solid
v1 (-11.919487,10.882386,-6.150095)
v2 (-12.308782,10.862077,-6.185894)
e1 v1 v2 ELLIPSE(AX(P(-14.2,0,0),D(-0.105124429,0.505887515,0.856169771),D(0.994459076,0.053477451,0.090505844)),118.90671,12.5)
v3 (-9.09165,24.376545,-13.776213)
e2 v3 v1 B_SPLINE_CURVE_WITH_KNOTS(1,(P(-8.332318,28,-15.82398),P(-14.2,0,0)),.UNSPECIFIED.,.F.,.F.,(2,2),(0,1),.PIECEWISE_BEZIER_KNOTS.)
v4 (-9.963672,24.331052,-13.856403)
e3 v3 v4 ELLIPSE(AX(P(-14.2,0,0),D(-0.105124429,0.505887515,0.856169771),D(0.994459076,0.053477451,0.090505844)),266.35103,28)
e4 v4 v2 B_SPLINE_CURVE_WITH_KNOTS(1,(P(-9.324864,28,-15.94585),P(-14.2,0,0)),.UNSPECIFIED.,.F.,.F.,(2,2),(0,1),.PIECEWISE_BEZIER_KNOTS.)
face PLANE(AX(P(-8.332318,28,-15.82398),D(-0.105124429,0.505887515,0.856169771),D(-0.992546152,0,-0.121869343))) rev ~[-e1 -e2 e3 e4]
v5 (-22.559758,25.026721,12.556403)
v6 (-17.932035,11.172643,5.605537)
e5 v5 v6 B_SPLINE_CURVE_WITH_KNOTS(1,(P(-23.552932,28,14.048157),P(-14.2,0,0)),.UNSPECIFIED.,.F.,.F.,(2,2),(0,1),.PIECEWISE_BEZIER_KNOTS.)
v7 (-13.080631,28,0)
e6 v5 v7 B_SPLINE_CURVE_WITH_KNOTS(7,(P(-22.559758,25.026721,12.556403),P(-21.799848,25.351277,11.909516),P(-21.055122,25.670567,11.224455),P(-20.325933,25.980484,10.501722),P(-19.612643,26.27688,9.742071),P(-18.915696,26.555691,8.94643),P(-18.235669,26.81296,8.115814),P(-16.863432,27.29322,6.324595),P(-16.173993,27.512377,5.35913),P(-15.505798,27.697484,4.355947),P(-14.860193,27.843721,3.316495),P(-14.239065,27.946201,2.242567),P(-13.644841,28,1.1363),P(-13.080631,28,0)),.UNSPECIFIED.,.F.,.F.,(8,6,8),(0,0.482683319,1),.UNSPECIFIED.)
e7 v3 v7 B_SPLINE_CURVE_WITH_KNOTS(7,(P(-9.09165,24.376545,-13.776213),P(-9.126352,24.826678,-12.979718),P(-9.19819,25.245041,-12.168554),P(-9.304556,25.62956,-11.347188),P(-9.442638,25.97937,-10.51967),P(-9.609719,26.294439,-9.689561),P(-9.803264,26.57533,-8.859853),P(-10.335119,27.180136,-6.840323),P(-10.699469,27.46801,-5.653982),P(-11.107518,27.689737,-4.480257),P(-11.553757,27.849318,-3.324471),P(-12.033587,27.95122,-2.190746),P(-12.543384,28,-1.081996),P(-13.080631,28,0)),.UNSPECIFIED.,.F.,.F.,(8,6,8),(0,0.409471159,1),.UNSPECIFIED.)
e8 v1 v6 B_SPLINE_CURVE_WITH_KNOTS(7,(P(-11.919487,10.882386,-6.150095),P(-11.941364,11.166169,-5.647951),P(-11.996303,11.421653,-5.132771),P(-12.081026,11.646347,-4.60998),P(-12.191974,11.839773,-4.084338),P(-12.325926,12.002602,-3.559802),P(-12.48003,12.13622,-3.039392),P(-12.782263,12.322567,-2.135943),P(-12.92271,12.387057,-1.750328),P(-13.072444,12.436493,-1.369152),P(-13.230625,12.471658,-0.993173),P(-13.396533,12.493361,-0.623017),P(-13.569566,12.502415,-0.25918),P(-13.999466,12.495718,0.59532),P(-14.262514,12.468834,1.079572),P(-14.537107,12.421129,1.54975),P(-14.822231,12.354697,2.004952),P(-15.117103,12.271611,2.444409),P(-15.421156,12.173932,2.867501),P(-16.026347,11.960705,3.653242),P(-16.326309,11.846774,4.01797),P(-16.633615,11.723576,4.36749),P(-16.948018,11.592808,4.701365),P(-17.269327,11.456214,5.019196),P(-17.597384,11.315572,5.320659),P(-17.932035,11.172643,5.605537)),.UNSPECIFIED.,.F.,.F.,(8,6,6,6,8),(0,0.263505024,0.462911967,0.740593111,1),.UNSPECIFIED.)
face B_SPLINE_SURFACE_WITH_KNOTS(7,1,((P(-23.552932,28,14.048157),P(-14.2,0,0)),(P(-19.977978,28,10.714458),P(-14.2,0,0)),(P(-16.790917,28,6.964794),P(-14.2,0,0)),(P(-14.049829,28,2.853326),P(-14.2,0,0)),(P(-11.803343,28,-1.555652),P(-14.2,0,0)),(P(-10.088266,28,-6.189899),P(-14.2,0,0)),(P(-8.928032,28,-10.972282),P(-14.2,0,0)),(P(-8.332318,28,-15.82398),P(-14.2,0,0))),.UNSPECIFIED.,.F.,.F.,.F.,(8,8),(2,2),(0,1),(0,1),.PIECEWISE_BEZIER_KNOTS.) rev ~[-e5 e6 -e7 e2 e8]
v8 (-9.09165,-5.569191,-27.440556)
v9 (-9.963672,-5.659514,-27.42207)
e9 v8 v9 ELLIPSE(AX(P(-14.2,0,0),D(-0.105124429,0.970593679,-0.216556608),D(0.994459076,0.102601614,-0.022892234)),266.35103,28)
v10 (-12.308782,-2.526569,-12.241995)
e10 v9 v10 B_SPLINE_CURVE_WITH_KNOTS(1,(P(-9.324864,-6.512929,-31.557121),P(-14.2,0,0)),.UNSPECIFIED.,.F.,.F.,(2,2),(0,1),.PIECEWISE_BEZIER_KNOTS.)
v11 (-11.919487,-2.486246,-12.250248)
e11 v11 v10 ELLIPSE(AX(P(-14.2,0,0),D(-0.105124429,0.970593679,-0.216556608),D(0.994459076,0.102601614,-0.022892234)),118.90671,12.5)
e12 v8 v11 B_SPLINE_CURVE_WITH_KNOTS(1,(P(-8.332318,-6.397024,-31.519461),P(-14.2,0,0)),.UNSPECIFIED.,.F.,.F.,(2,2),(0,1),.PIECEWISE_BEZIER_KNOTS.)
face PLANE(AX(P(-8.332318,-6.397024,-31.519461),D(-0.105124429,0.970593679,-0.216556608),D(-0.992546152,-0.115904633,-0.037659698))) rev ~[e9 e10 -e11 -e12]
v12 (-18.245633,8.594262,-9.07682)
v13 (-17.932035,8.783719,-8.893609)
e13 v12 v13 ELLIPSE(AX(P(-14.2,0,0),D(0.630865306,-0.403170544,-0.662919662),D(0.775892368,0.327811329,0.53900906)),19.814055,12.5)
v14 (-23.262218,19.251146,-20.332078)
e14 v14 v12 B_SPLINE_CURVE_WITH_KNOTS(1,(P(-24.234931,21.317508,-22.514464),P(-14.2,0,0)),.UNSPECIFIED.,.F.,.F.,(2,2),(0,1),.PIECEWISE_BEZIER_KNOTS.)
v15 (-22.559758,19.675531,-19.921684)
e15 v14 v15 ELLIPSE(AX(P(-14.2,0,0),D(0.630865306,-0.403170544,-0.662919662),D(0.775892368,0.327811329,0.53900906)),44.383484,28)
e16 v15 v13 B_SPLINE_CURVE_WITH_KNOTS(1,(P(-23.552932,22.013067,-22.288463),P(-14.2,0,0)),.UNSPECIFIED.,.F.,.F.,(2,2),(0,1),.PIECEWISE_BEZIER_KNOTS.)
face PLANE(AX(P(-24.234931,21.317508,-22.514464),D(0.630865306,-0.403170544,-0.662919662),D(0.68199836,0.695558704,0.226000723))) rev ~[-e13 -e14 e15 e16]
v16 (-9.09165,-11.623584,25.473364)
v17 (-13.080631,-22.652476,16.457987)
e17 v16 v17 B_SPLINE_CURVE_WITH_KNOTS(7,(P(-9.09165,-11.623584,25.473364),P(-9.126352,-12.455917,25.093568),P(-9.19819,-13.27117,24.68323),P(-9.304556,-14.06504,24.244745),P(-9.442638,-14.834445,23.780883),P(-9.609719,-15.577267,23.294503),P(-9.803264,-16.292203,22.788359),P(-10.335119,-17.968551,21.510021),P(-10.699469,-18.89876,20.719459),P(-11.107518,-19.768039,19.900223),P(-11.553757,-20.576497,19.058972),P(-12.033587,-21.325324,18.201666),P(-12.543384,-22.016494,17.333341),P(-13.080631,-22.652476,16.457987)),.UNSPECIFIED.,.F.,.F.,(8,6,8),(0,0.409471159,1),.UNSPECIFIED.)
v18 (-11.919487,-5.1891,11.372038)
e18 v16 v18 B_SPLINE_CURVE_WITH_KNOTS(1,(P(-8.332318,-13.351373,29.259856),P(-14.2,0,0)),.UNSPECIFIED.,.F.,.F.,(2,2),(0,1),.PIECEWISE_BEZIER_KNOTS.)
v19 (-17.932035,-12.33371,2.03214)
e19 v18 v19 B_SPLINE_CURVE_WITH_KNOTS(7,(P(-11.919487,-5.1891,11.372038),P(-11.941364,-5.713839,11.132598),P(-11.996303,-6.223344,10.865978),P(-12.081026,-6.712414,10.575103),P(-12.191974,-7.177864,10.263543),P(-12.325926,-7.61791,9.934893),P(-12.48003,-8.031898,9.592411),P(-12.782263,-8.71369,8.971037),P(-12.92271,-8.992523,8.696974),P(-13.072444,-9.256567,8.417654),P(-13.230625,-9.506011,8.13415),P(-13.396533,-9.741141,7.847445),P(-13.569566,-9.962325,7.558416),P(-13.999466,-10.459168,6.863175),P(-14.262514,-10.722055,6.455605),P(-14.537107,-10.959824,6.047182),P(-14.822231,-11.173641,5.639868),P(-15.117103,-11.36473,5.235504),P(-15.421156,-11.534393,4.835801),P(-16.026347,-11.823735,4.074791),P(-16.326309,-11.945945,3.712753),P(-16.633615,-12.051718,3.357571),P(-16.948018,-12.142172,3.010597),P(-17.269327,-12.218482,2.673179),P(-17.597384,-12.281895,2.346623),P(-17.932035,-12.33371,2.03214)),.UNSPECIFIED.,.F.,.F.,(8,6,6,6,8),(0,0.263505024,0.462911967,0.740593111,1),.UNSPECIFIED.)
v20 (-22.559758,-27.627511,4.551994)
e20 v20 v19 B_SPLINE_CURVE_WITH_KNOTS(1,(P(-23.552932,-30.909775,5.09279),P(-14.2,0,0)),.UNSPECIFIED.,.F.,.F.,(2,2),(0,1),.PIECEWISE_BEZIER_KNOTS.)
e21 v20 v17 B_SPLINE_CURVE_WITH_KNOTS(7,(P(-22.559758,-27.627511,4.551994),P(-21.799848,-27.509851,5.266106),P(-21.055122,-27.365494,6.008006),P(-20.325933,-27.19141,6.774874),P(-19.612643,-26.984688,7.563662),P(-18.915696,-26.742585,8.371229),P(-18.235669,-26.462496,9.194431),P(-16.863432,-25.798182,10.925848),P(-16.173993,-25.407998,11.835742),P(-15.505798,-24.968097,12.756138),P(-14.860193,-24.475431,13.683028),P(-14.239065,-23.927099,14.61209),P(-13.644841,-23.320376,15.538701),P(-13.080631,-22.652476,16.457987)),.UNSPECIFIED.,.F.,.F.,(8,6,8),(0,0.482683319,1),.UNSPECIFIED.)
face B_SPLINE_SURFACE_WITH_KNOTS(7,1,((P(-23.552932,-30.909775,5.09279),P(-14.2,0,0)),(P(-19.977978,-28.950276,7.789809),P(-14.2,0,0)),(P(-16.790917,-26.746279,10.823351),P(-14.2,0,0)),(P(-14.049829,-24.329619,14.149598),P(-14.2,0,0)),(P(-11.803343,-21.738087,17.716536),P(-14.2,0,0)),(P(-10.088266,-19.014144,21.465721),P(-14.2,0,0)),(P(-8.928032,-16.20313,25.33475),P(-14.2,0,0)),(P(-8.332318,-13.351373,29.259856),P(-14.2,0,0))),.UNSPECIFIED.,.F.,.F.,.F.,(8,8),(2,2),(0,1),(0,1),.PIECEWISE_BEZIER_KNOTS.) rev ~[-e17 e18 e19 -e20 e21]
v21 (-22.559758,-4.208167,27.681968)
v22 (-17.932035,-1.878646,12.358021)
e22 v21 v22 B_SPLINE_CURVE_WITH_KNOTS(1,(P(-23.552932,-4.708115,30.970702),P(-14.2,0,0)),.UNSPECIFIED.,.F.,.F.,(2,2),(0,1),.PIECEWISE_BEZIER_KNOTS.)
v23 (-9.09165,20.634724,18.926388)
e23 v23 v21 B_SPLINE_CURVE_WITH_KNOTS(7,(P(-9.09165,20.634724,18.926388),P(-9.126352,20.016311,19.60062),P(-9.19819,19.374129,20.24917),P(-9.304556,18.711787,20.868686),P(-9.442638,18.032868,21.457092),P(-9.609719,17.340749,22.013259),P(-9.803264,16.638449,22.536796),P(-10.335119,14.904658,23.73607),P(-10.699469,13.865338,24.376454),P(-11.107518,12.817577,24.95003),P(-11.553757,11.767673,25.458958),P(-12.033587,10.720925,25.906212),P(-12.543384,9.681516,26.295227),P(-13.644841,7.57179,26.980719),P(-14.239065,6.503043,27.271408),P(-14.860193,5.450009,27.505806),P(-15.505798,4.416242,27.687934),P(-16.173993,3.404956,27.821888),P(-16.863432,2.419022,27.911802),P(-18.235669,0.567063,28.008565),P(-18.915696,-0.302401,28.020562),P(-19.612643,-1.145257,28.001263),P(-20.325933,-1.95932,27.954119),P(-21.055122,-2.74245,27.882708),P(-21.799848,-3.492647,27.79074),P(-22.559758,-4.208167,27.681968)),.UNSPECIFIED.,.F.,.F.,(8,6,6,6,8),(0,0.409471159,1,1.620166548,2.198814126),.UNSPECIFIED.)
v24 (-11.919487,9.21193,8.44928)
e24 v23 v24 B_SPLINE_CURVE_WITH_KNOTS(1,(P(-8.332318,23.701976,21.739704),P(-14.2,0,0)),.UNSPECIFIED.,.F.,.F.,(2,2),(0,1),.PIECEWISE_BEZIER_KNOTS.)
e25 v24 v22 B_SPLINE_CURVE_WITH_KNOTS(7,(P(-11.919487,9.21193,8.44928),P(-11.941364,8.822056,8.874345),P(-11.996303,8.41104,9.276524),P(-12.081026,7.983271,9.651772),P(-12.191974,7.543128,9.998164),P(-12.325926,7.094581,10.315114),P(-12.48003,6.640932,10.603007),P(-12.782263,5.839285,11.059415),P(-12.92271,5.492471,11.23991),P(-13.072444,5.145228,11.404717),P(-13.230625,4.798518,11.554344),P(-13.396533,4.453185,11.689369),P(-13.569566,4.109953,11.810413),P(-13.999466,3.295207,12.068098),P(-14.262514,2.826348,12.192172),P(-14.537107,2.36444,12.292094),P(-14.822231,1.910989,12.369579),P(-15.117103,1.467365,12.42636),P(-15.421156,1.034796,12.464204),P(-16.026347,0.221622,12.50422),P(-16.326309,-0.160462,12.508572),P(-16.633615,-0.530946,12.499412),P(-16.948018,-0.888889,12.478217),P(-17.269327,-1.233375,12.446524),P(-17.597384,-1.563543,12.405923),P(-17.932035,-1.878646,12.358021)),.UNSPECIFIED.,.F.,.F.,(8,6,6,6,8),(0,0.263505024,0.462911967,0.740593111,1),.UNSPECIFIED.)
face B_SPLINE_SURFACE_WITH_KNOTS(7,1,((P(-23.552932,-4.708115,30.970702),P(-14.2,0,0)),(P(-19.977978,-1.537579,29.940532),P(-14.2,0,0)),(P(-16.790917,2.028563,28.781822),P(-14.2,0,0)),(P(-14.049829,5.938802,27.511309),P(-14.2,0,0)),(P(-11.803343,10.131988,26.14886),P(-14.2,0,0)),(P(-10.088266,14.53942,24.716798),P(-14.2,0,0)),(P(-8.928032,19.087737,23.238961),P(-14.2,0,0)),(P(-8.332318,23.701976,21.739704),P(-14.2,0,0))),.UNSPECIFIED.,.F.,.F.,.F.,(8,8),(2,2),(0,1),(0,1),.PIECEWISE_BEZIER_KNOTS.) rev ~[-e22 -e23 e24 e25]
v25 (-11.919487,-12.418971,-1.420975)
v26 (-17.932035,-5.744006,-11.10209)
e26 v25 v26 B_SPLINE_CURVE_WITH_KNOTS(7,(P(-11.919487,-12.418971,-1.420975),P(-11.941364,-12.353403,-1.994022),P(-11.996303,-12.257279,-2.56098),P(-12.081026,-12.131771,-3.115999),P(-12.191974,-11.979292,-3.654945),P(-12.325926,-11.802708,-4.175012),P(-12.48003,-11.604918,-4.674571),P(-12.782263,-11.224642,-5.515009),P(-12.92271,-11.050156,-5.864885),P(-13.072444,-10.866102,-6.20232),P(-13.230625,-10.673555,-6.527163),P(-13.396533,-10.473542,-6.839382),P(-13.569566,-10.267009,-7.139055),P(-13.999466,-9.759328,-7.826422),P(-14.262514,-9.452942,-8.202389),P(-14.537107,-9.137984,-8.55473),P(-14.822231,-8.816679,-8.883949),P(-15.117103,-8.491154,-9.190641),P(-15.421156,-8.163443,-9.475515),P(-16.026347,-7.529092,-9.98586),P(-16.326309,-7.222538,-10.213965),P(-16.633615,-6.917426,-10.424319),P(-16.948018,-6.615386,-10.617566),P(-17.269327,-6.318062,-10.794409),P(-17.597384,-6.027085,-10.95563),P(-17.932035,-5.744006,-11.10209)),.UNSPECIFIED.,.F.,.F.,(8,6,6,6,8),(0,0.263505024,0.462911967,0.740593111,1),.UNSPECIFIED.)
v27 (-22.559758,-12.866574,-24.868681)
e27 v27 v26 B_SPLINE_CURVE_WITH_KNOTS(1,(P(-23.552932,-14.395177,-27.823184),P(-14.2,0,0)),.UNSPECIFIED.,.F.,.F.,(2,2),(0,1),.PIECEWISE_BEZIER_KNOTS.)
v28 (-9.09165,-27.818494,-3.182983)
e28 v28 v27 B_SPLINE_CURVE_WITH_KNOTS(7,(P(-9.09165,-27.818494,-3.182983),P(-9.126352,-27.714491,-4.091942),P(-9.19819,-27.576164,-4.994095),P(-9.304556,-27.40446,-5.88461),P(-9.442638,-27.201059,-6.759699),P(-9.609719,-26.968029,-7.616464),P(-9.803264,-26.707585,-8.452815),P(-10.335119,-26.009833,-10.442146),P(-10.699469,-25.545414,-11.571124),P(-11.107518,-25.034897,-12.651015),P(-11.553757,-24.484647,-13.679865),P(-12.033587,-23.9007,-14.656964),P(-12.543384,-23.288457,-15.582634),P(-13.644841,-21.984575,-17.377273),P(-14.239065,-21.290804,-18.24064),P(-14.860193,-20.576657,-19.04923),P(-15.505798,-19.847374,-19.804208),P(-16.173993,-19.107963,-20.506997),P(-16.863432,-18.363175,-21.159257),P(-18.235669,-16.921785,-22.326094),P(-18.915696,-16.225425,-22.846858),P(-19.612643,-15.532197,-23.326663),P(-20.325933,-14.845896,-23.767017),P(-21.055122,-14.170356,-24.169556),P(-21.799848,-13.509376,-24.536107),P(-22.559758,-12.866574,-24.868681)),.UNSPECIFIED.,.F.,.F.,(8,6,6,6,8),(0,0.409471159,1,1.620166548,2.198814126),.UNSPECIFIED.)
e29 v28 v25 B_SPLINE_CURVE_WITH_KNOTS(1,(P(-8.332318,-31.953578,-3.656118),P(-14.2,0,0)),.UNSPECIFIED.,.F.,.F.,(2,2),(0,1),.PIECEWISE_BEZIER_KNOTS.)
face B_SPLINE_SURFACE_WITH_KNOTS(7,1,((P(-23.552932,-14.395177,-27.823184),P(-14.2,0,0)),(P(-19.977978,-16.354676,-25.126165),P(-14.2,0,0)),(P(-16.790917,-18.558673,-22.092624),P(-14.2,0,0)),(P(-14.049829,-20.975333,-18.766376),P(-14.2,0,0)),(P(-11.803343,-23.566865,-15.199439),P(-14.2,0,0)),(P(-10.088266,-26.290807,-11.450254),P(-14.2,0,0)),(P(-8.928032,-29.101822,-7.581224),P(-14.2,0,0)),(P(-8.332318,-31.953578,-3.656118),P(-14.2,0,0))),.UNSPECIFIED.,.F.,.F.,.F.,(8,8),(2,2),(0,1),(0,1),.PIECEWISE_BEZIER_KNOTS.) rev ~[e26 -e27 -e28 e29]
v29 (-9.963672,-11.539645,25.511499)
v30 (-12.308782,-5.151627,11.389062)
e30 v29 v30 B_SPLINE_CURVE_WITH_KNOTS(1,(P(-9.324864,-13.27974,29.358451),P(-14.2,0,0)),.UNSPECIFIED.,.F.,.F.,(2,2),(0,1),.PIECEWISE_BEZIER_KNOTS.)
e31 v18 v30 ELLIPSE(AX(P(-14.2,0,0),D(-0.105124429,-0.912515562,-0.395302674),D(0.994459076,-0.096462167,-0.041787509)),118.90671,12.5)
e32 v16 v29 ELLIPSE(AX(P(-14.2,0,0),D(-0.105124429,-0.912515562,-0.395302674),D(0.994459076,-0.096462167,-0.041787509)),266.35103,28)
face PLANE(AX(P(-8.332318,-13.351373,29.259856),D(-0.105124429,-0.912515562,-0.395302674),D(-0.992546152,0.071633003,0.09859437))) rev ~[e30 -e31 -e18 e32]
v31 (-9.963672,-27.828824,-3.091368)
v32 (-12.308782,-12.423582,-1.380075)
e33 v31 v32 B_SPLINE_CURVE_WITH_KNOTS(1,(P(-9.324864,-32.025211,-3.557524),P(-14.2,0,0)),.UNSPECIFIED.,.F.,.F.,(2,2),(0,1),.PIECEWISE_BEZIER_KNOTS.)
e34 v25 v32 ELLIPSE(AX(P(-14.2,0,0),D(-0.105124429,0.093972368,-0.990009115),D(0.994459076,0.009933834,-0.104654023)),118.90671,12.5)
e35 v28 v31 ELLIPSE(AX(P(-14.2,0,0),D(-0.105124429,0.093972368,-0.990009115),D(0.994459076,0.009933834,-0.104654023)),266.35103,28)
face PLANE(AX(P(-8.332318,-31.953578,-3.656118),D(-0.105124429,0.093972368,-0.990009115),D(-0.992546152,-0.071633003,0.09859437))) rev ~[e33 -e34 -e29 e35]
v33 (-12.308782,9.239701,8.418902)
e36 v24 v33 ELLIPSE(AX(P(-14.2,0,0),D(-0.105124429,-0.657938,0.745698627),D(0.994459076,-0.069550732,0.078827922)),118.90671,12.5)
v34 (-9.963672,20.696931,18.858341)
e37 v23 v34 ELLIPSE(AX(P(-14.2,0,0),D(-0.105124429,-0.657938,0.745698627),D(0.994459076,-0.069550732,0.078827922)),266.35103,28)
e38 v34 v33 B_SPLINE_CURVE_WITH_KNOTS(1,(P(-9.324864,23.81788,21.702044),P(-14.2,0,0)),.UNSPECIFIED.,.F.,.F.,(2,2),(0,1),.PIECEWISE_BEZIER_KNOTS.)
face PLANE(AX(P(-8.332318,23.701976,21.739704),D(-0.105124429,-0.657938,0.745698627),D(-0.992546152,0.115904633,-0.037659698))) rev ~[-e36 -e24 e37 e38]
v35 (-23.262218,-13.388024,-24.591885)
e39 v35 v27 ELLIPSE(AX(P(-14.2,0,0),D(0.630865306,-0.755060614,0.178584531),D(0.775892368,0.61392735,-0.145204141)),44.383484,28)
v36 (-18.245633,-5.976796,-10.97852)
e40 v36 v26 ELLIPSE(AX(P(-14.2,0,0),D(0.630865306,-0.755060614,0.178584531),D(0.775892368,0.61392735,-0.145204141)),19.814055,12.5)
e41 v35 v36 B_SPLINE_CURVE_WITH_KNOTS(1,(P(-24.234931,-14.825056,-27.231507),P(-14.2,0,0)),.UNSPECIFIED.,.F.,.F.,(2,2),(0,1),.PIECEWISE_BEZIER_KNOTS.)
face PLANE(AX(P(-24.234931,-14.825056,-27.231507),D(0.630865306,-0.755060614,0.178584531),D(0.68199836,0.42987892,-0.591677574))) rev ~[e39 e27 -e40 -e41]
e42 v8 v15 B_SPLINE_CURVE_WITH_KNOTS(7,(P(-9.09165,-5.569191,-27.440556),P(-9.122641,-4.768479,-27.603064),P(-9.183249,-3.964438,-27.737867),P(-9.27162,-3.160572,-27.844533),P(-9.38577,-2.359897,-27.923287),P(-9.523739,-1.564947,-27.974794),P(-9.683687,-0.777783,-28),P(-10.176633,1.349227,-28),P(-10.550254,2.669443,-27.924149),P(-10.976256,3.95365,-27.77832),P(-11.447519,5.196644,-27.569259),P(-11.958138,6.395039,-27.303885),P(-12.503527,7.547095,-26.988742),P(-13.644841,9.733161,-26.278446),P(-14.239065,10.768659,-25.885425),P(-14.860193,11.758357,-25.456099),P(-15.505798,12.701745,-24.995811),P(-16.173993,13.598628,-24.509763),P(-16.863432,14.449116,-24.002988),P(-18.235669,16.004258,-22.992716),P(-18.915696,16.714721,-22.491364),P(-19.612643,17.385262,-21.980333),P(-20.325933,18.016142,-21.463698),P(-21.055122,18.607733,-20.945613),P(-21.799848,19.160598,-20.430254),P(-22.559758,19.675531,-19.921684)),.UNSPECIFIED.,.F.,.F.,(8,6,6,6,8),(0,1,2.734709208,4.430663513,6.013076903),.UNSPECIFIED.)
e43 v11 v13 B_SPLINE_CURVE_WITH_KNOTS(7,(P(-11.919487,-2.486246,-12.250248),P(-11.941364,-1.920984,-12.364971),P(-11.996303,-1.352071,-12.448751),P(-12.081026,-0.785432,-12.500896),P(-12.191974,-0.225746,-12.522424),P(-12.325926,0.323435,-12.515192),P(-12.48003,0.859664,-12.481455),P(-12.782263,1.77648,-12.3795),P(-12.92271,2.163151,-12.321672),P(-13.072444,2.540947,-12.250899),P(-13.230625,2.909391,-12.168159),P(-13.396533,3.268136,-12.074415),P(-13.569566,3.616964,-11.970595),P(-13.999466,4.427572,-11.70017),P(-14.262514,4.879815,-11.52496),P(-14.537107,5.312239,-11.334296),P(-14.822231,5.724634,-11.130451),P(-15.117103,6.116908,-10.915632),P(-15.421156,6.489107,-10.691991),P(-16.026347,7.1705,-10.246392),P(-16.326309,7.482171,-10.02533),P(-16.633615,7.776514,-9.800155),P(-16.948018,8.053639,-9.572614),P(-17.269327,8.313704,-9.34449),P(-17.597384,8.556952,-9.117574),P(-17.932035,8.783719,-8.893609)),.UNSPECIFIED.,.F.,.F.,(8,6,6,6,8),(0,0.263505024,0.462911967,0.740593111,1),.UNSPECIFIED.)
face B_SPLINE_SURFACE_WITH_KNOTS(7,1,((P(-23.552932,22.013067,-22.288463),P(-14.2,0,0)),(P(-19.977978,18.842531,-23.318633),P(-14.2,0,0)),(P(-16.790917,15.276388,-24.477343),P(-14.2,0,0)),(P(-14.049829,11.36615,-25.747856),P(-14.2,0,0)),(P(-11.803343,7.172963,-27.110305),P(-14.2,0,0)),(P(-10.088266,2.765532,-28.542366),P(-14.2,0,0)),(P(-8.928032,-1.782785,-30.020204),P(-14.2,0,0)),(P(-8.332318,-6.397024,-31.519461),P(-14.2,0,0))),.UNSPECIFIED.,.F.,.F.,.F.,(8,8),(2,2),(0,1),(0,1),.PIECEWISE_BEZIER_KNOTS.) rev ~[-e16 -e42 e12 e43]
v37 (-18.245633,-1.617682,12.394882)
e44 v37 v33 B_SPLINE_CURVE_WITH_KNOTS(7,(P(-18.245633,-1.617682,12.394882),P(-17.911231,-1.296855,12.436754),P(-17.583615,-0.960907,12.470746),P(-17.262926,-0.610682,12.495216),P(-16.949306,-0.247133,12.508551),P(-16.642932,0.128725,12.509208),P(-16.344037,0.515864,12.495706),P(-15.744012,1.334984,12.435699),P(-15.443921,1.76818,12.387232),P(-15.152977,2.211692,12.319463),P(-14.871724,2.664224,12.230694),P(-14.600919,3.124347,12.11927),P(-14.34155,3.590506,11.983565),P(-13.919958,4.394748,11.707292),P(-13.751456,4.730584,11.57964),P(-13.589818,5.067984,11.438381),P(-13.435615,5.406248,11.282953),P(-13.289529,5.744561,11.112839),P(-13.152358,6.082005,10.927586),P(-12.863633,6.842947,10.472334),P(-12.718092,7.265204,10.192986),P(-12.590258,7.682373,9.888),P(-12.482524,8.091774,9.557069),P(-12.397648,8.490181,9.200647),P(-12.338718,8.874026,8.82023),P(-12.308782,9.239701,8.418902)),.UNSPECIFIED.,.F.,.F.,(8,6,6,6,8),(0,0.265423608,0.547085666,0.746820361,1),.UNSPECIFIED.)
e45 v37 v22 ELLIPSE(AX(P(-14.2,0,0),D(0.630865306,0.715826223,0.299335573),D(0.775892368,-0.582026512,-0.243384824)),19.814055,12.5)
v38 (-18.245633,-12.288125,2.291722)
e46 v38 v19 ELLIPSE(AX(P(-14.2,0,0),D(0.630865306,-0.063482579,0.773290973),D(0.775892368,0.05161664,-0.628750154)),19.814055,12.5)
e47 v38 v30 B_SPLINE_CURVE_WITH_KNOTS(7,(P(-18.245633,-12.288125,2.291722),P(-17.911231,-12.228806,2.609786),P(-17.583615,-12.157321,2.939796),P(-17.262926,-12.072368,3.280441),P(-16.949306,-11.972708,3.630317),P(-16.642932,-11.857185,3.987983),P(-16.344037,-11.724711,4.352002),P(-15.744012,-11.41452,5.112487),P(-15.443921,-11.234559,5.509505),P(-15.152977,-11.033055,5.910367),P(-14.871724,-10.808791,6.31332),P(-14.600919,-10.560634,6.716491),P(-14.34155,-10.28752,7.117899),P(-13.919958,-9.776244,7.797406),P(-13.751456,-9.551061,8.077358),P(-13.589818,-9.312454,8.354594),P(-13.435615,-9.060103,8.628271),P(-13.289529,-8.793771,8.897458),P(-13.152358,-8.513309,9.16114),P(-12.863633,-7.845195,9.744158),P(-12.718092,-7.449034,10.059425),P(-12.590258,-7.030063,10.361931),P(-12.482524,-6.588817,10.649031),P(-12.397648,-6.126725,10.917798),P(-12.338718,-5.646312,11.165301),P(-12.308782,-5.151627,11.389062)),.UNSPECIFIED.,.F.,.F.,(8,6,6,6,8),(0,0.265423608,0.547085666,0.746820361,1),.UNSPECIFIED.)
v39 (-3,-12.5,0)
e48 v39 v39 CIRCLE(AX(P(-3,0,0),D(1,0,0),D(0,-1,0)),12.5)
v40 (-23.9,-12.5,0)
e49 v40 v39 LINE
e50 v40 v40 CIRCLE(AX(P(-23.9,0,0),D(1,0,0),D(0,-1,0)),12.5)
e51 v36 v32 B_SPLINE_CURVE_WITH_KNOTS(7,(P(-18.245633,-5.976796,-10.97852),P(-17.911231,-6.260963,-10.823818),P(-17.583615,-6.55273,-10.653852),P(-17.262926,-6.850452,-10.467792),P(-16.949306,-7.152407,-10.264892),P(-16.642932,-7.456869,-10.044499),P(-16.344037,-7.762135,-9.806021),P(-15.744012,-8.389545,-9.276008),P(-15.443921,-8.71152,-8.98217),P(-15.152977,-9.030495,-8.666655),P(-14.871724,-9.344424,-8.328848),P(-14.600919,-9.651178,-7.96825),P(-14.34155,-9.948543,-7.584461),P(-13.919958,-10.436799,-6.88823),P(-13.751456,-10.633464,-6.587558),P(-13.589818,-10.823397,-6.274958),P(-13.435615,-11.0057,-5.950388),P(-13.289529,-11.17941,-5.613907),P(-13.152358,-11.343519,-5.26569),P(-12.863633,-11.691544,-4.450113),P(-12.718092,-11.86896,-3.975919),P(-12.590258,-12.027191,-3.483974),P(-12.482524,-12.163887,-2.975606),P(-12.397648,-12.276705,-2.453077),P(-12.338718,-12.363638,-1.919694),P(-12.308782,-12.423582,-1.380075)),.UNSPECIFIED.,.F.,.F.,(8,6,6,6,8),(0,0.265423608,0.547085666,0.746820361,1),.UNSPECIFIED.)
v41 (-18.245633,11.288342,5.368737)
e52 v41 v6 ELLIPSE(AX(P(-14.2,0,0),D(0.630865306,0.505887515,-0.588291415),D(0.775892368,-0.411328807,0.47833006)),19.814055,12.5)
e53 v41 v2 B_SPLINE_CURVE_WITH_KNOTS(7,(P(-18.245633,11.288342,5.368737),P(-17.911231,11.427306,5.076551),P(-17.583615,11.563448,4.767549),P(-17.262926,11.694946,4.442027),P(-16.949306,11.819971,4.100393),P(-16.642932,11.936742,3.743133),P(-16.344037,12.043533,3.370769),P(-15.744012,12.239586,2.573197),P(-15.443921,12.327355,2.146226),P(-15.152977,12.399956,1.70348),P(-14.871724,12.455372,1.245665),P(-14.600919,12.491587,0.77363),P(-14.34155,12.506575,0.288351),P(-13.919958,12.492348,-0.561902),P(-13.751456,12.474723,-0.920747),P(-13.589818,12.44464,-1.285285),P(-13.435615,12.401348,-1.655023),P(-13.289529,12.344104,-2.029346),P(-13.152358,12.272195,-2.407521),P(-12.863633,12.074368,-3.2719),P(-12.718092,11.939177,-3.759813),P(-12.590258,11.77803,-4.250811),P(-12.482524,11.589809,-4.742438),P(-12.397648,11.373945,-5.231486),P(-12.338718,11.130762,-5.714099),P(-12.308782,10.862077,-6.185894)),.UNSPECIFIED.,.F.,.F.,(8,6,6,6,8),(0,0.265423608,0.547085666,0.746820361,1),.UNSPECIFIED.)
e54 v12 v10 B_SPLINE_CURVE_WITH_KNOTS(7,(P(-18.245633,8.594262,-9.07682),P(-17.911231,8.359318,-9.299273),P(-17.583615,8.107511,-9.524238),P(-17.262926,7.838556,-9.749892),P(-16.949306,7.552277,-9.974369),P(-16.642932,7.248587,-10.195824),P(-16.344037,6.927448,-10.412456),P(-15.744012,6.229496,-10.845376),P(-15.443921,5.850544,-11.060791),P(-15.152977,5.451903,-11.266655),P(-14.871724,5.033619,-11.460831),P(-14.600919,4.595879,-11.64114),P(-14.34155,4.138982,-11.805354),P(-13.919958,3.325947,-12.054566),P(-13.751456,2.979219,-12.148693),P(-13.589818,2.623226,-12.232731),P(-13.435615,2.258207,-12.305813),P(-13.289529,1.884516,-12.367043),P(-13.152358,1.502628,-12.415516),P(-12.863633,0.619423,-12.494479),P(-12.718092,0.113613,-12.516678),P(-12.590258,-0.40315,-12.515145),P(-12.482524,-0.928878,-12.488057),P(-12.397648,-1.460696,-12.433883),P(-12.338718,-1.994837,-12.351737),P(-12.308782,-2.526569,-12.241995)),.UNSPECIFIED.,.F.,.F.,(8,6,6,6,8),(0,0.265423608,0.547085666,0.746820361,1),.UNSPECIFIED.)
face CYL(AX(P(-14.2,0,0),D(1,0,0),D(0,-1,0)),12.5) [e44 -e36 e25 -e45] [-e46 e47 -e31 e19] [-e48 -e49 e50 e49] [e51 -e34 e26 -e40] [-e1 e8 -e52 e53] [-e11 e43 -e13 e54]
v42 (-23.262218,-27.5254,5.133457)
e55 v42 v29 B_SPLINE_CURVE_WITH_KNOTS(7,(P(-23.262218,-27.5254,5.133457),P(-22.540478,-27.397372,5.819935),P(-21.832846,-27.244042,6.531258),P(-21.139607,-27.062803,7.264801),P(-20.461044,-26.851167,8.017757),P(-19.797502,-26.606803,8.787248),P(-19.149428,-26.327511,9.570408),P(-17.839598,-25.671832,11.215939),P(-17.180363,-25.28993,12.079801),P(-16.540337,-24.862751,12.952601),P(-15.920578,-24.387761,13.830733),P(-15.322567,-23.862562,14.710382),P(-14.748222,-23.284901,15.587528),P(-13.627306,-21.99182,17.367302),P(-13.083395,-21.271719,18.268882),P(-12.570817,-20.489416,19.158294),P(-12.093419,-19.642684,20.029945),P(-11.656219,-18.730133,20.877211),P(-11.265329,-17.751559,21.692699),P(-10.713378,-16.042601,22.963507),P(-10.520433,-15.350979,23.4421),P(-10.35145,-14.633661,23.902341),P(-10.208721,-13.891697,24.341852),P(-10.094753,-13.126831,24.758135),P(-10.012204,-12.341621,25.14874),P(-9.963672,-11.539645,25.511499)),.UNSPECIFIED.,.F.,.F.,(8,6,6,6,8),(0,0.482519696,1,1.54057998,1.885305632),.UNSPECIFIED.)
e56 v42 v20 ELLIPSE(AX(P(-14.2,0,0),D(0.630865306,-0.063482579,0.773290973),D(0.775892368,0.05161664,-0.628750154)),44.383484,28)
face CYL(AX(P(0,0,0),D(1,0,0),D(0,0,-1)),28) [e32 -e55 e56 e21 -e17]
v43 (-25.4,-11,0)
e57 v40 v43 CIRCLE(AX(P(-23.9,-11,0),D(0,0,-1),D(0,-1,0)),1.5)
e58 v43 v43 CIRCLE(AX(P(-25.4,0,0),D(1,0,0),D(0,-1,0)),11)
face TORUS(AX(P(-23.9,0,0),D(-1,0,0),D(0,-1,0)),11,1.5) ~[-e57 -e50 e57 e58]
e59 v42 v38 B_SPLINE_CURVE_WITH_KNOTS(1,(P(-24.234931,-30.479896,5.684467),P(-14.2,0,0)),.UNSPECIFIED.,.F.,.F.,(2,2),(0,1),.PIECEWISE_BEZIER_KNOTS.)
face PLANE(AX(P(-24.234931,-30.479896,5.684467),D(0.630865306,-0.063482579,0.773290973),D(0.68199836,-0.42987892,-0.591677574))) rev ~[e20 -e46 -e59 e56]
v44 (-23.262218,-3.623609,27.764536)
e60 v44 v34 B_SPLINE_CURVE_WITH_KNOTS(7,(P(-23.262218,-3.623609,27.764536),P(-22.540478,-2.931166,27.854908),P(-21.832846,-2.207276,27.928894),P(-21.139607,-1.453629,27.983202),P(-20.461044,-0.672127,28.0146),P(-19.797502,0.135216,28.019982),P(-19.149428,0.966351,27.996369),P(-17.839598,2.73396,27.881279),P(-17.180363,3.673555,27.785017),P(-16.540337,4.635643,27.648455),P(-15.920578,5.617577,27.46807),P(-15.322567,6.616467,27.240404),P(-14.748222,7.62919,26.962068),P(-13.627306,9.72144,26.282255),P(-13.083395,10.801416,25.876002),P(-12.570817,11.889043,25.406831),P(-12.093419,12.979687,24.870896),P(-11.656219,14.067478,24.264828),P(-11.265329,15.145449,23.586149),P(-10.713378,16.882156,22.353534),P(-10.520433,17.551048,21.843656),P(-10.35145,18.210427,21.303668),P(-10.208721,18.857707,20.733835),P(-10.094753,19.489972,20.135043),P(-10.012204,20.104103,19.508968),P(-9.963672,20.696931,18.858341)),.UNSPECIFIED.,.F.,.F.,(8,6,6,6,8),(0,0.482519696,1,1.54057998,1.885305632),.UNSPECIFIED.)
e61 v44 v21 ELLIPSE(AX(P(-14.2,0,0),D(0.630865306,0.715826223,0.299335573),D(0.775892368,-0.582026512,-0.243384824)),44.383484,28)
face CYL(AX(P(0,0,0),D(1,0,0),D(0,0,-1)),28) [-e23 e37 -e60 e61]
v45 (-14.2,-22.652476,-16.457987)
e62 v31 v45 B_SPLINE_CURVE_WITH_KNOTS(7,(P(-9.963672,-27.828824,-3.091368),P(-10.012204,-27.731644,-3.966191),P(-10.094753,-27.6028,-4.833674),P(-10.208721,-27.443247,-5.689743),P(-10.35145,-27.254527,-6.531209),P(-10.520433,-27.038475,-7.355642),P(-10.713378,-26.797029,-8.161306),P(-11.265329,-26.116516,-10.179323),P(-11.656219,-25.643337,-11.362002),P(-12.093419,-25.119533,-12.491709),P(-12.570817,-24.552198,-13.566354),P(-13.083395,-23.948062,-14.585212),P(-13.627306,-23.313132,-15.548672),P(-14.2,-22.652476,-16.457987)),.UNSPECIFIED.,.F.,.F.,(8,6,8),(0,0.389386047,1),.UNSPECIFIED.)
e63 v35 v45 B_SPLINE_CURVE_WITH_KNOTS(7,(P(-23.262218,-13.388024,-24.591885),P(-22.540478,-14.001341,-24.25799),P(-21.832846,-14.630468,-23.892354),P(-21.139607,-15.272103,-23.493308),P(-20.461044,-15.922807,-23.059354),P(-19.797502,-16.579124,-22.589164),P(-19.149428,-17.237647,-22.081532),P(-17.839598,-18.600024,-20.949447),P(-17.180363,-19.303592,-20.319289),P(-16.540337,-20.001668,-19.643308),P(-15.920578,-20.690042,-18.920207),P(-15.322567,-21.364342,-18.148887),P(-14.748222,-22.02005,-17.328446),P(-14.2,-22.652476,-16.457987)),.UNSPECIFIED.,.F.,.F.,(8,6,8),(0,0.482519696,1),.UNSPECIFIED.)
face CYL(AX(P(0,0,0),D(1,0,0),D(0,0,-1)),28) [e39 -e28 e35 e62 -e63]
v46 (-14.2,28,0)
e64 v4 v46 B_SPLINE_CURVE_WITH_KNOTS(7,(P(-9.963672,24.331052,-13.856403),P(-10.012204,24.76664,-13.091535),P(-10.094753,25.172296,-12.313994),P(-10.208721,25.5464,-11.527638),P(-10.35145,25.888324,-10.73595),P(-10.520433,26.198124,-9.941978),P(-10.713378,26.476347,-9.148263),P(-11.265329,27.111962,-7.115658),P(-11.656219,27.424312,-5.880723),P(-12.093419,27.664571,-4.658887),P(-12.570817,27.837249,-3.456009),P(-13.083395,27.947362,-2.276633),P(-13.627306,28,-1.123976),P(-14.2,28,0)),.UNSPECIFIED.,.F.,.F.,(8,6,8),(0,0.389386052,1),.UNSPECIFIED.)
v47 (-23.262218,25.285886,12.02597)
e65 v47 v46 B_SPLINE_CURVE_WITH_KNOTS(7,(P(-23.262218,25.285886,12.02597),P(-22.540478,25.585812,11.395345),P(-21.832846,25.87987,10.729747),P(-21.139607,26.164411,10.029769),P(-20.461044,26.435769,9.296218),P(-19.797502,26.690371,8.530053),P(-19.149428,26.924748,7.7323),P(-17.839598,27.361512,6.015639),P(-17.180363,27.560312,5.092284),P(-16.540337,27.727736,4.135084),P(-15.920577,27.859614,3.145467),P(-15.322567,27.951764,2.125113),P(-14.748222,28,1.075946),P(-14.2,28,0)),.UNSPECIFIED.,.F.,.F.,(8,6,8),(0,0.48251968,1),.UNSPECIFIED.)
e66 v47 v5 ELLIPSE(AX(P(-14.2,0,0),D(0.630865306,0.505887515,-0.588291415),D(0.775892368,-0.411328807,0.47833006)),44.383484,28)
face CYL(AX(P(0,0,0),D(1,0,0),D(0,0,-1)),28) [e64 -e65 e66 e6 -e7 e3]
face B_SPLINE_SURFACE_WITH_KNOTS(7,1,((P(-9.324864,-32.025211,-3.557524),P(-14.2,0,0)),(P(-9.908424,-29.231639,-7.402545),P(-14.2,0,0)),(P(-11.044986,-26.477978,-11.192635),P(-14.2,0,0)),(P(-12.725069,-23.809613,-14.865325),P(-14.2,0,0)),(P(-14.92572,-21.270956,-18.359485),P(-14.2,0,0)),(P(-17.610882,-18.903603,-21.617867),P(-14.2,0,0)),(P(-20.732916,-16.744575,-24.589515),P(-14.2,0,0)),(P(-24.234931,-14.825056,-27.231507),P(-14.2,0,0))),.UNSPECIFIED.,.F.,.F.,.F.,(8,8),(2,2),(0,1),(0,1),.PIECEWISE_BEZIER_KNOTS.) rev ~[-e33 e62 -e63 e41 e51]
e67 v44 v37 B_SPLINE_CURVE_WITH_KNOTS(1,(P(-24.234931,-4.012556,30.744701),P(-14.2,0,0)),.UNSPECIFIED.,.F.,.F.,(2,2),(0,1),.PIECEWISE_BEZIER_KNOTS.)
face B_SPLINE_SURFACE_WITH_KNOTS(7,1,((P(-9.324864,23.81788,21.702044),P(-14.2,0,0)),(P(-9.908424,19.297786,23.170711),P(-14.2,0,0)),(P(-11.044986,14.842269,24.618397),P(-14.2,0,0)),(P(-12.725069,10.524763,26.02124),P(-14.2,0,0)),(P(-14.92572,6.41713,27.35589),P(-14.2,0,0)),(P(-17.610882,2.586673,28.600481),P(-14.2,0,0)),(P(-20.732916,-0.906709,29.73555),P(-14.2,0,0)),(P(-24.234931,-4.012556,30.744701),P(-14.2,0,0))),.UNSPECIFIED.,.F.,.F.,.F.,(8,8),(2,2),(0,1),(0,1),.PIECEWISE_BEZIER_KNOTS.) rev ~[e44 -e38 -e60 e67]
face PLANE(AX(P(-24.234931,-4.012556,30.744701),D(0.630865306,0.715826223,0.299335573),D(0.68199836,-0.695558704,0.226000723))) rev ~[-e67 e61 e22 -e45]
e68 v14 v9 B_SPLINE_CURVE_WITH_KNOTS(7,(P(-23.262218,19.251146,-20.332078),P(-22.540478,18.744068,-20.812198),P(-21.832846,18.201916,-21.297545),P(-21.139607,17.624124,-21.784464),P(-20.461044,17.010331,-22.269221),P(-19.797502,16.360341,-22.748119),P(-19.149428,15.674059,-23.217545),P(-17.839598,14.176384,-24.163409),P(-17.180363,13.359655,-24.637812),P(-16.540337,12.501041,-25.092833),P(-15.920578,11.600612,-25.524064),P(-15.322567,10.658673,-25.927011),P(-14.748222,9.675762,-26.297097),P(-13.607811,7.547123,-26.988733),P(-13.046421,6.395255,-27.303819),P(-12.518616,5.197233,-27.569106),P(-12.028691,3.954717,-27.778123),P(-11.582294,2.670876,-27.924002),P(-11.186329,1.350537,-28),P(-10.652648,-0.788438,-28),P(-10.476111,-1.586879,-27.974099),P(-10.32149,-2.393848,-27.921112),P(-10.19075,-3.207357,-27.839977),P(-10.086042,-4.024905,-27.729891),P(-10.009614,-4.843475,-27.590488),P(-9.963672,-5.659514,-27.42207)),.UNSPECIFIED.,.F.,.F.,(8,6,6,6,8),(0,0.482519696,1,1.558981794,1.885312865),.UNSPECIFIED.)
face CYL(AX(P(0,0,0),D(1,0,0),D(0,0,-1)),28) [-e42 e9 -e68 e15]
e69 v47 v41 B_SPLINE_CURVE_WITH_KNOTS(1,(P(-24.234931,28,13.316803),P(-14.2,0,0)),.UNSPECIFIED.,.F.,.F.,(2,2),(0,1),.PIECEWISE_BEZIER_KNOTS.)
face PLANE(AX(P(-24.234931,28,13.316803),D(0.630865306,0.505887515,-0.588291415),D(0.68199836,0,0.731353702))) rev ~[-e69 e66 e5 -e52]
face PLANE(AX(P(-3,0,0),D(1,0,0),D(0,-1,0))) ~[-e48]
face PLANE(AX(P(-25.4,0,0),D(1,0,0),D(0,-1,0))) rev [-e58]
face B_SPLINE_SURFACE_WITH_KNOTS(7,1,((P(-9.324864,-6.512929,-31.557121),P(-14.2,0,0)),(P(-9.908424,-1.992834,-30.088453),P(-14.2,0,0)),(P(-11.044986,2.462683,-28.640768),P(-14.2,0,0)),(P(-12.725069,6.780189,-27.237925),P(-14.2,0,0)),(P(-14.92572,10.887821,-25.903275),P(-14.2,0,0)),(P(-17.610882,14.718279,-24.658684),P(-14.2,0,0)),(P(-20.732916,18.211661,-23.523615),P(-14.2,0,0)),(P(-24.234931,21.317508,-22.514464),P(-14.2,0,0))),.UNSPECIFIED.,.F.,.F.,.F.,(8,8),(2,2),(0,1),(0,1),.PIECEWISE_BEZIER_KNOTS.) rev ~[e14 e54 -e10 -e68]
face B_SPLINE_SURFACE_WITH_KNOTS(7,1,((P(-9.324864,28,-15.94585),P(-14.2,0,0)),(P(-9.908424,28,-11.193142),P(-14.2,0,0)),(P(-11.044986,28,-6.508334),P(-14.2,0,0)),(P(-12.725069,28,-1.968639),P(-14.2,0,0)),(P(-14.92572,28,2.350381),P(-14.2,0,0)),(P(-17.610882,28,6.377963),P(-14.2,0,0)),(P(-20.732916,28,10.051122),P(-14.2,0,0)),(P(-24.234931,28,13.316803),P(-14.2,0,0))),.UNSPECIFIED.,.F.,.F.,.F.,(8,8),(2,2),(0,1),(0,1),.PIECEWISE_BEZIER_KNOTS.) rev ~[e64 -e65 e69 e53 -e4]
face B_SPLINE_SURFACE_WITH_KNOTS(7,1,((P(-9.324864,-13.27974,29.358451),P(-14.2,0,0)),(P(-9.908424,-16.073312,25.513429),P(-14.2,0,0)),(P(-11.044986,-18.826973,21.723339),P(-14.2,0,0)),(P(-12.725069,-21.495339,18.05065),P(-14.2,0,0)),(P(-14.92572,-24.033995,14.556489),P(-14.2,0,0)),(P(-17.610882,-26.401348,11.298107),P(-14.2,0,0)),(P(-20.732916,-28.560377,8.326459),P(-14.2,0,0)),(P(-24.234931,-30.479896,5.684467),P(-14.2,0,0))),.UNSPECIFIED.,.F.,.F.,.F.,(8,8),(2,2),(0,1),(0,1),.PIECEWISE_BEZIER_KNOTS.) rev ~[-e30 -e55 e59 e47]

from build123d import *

# Parameters (mm, degrees)
SKETCH5_W                  = 22.4
SKETCH5_H                  = 12.5
CIRPATTERN1_COUNT          = 5
SKETCH_CUT_BLADE_OUTSIDE_W = 82.432
SKETCH_CUT_BLADE_OUTSIDE_H = 79.929
SKETCH_CUT_BLADE_OUTSIDE_R = 28
CUT_FAN_BLADE_DEPTH        = 52.639384755
COSMETIC_FILLET_R          = 1.5


with BuildPart() as part:
    # Sketch5 → Body (revolve)
    with BuildSketch(Plane.XY, mode=Mode.PRIVATE) as body_sk:
        with Locations((-14.2, 6.25)):
            Rectangle(SKETCH5_W, SKETCH5_H)
    revolve(body_sk.sketch.rotate(Axis((-25.4, 0, 0), (1, 0, 0)), 180), axis=Axis((-25.4, 0, 0), (1, 0, 0)))

    # Sketch-Blade-Top → Loft-Fan-Blade section 0
    with BuildSketch(Plane(origin=(0, 28, 0), x_dir=(-1, 0, 0), z_dir=(0, 1, 0)), mode=Mode.PRIVATE) as loft_fan_blade_s0:
        with BuildLine():
            Line((24.234930717, 13.316802843), (23.552932357, 14.048156545))
            ThreePointArc((23.552932357, 14.048156545), (13.308993476, 0.4539905), (8.332318321, -15.823980463))
            Line((8.332318321, -15.823980463), (9.324864472, -15.945849806))
            ThreePointArc((9.324864472, -15.945849806), (14.2, 0), (24.234930717, 13.316802843))
        make_face()
    loft_fan_blade = loft([loft_fan_blade_s0.sketch, Vertex(-14.2, 0, 0)])

    # CirPattern1: Loft-Fan-Blade ×5 about axis
    cirpattern1_axis = Axis((-25.4, 0, 0), (1, 0, 0))
    for i in range(1, CIRPATTERN1_COUNT):
        add(loft_fan_blade.rotate(cirpattern1_axis, i * 360 / CIRPATTERN1_COUNT))

    # Sketch-Cut-Blade outside → Cut-Fan-Blade (cut, through all)
    with BuildSketch(Plane(origin=(0, 0, 0), x_dir=(0, 0, -1), z_dir=(1, 0, 0))):
        with Locations((0.293, -2.0125)):
            Rectangle(SKETCH_CUT_BLADE_OUTSIDE_W, SKETCH_CUT_BLADE_OUTSIDE_H)
        Circle(SKETCH_CUT_BLADE_OUTSIDE_R, mode=Mode.SUBTRACT)
    extrude(amount=-CUT_FAN_BLADE_DEPTH, mode=Mode.SUBTRACT)

    # Cosmetic-Fillet
    cosmetic_fillet_edges = [part.edges().sort_by_distance(p)[0] for p in [
        (-25.4, 12.5, 0),
    ]]
    fillet(cosmetic_fillet_edges, radius=COSMETIC_FILLET_R)


solid = part.part
